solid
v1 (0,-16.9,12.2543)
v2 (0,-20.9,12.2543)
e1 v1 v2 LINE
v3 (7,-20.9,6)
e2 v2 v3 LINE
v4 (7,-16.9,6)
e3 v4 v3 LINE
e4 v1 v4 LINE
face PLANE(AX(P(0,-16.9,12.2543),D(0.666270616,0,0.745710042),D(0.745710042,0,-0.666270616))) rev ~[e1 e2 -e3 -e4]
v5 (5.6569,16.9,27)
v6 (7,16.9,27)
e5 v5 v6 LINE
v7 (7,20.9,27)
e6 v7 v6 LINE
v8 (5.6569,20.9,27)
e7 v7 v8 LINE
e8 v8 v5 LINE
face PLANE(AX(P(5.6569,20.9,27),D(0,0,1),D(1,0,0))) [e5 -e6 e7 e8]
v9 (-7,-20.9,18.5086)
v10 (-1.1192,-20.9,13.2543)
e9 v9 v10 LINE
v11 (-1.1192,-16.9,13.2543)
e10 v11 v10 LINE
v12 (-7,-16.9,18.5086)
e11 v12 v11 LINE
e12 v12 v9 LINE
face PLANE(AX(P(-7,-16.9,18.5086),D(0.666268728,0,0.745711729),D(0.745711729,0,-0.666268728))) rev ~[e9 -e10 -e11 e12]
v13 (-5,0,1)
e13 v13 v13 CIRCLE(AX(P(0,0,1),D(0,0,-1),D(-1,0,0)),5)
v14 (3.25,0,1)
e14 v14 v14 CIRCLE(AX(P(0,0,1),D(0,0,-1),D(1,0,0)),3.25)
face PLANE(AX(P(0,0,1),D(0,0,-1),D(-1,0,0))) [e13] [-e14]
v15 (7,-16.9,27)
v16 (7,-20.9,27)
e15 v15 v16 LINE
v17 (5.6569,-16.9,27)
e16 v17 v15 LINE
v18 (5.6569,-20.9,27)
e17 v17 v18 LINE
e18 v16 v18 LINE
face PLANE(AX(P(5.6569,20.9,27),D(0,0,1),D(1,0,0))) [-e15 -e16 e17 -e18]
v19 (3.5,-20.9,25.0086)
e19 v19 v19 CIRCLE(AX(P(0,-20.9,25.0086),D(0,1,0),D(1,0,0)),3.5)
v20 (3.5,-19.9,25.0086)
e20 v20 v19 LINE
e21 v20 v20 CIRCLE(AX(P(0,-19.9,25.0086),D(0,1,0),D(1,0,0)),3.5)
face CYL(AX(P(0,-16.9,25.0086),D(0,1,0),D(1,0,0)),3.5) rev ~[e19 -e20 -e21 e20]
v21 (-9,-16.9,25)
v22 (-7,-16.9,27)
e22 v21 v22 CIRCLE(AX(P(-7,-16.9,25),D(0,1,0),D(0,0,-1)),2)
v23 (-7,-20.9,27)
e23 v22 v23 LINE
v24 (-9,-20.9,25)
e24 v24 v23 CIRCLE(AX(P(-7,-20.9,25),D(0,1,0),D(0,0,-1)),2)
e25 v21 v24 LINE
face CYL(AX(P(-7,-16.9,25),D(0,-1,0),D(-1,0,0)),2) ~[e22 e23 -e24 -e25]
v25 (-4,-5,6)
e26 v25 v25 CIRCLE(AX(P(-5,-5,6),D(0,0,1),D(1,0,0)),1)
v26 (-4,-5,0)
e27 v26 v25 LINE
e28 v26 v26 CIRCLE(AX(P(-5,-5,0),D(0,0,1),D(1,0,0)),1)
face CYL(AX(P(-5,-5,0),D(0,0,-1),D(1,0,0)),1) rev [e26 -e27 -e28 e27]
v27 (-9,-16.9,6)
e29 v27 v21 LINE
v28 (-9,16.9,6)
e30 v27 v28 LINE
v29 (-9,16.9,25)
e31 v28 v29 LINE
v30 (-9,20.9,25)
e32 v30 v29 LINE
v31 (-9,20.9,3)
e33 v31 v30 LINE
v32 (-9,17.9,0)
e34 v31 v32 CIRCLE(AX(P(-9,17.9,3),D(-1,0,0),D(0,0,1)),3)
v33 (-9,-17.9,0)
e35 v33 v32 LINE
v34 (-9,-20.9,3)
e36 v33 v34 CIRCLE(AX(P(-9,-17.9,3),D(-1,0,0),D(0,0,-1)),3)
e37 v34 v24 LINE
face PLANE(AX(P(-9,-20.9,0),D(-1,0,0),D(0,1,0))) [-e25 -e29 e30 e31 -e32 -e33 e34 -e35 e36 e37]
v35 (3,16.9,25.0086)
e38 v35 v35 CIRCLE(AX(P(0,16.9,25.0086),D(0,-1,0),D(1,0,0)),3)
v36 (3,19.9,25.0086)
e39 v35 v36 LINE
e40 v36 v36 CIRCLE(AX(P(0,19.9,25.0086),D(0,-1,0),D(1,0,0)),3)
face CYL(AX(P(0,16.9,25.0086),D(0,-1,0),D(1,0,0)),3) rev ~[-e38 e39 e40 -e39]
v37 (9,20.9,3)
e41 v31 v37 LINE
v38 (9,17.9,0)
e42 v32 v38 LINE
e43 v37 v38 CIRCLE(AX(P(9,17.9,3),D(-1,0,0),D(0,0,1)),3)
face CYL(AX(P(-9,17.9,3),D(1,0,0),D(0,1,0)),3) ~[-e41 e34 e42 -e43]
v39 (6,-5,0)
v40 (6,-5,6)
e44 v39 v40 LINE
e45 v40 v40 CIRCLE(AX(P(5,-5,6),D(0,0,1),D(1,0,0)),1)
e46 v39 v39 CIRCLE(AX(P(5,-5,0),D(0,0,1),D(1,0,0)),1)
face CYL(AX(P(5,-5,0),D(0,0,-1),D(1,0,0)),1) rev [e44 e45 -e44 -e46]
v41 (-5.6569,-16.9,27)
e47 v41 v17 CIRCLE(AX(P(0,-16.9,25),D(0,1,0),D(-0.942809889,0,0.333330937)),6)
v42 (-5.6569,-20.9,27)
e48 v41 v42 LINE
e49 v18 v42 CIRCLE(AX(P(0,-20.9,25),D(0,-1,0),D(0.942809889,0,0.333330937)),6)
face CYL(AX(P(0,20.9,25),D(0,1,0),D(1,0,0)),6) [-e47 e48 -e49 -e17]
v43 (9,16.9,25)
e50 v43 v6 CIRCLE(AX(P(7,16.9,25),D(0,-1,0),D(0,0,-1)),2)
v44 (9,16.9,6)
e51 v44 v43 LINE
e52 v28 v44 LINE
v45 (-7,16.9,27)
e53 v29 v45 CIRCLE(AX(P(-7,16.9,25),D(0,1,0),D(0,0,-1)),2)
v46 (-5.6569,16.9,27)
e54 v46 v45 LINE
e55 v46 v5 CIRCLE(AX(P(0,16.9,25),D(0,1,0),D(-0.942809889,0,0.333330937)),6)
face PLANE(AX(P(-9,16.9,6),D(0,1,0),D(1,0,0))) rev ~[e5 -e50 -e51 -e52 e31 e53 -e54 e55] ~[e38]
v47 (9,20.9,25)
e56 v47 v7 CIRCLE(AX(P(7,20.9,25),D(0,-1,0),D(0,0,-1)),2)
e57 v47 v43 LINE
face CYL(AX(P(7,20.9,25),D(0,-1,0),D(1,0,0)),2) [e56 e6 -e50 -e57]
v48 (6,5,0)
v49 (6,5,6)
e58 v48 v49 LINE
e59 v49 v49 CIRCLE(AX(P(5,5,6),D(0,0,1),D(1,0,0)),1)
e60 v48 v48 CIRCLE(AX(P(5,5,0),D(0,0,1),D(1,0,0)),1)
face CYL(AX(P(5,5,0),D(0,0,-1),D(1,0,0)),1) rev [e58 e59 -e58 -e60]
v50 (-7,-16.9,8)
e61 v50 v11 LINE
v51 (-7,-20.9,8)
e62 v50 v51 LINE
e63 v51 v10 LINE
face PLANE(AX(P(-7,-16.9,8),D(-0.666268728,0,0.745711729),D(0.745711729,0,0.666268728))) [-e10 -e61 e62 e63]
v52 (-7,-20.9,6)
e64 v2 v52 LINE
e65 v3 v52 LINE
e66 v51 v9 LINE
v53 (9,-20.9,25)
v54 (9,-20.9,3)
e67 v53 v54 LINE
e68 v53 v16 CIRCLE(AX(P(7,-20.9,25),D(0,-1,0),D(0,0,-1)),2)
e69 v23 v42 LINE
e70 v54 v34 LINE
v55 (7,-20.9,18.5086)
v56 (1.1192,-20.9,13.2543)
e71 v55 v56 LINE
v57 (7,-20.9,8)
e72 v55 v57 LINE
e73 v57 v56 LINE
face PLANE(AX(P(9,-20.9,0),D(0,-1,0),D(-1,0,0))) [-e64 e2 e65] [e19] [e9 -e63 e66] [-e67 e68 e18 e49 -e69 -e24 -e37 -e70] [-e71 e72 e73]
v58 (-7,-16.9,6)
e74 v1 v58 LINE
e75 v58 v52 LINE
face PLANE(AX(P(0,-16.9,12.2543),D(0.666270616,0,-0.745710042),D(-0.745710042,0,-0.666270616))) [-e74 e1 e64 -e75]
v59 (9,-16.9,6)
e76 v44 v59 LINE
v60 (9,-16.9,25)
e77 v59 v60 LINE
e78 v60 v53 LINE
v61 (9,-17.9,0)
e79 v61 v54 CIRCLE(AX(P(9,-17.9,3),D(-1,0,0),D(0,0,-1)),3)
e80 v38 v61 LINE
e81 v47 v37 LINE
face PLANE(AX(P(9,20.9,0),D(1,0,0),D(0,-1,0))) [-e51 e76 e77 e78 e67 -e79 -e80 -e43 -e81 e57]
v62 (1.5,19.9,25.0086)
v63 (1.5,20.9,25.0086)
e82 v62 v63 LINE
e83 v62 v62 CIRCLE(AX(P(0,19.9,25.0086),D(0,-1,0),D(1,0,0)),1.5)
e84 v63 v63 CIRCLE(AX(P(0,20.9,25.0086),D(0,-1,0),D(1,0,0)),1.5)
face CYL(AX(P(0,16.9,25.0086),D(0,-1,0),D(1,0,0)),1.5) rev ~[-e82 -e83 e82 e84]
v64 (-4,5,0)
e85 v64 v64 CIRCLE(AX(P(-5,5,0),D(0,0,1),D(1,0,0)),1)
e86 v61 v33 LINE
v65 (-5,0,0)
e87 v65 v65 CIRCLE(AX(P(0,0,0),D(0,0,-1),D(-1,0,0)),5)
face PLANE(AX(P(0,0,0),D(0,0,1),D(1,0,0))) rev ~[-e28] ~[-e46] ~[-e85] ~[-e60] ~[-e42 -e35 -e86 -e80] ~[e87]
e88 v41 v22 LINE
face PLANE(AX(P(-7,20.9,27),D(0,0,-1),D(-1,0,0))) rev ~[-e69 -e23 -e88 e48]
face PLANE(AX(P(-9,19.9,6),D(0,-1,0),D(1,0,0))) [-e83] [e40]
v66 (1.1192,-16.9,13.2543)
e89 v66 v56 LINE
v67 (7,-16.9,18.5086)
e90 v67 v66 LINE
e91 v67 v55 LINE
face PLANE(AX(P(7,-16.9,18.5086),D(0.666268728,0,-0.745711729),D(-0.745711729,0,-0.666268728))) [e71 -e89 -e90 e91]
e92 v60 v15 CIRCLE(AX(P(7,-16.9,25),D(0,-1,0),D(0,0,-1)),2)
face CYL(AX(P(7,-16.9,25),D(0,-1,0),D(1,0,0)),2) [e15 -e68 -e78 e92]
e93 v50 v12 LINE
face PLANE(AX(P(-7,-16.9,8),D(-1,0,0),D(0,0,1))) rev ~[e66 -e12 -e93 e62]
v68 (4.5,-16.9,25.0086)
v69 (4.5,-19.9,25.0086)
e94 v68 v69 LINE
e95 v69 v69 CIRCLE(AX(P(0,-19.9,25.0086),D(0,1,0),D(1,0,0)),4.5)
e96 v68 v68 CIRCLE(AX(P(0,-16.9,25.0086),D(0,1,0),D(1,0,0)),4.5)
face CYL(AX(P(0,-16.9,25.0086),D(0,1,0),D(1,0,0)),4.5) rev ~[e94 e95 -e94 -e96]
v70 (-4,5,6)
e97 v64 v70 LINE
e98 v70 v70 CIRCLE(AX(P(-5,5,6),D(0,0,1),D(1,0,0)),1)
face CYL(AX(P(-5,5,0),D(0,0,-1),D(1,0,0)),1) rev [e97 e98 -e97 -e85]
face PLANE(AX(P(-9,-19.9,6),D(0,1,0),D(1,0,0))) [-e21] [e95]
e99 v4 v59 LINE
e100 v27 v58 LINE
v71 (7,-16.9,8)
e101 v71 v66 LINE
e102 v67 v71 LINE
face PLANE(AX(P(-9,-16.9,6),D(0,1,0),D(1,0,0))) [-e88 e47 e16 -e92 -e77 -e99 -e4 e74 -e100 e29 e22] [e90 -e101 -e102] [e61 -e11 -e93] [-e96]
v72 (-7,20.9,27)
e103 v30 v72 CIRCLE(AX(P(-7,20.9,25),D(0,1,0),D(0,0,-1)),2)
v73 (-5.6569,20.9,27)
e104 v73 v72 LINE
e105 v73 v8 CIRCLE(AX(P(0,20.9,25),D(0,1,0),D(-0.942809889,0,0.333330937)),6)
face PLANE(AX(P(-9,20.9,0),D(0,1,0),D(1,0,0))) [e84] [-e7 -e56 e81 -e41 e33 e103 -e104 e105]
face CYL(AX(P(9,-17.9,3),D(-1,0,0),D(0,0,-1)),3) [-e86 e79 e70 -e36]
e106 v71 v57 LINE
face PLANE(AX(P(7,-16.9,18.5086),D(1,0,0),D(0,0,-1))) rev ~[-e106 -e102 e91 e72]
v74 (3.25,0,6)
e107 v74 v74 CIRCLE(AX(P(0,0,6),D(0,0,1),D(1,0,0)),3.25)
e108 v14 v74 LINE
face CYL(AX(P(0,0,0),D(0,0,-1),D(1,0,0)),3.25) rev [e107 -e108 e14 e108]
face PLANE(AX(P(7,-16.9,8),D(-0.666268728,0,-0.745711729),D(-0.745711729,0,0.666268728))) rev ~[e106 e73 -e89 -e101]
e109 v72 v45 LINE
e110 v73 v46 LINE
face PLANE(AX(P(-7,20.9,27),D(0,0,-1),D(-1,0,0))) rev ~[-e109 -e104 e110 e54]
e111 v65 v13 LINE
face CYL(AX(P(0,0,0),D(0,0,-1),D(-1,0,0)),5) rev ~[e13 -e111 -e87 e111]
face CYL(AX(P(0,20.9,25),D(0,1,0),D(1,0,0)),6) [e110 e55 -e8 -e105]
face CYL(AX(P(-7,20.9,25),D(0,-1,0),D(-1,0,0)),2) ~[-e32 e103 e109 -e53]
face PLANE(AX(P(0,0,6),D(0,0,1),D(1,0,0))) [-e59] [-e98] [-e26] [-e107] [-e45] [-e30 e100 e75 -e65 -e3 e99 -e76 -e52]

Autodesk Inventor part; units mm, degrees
ref_plane "YZ Plane" through (0, 0, 0) normal (1, 0, 0) x (0, 1, 0)
ref_plane "XZ Plane" through (0, 0, 0) normal (0, 1, 0) x (-1, 0, 0)
ref_plane "XY Plane" through (0, 0, 0) normal (0, 0, 1) x (1, 0, 0)
sketch "スケッチ1" plane through (0, 0, 0) normal (0, 0, 1) x (1, 0, 0)
  line L0 (-9, 20.9) -> (9, 20.9)
  line L1 (9, 20.9) -> (9, -20.9)
  line L2 (9, -20.9) -> (-9, -20.9)
  line L3 (-9, -20.9) -> (-9, 20.9)
  line L4 (-9, 20.9) -> (9, -20.9) construction
  line L5 (9, 20.9) -> (-9, -20.9) construction
  circle A0 centre (0, 0) radius 3.25
  line L6 (-5, 5) -> (5, 5) construction
  line L7 (5, 5) -> (5, -5) construction
  line L8 (5, -5) -> (-5, -5) construction
  line L9 (-5, -5) -> (-5, 5) construction
  line L10 (-5, 5) -> (5, -5) construction
  line L11 (5, 5) -> (-5, -5) construction
  circle A1 centre (5, 5) radius 1
  circle A2 centre (-5, 5) radius 1
  circle A3 centre (-5, -5) radius 1
  circle A4 centre (5, -5) radius 1
  dimension "d0" = 18
  dimension "d1" = 41.8
  dimension "d2" = 6.5
  dimension "d3" = 10
  dimension "d4" = 10
  dimension "d5" = 2
  dimension "d6" = 2
  dimension "d7" = 2
  dimension "d8" = 2
extrude "押し出し1" add sketch "スケッチ1" along normal blind 6
sketch "スケッチ2" plane through (0, 0, 6) normal (0, 0, 1) x (1, 0, 0)
  line L0 (-9, 20.9) -> (9, 20.9)
  line L1 (-9, 9) -> (-9, 20.9)
  line L2 (9, 20.9) -> (-9, 20.9)
  line L3 (-9, 20.9) -> (-9, 16.9)
  line L4 (-9, 16.9) -> (9, 16.9)
  line L5 (9, 16.9) -> (9, 20.9)
  line L6 (9, -9) -> (9, -20.9)
  line L7 (-9, -20.9) -> (-9, -9)
  line L8 (9, -20.9) -> (-9, -20.9)
  line L9 (-9, -20.9) -> (-9, -16.9)
  line L10 (-9, -16.9) -> (9, -16.9)
  line L11 (9, -16.9) -> (9, -20.9)
  point P0 (0, 0)
  point P1 (0, 0)
  dimension "d11" = 4
  dimension "d12" = 4
extrude "押し出し2" add sketch "スケッチ2" along normal blind 25
sketch "スケッチ3" plane through (-9, 20.9, 0) normal (0, 1, 0) x (1, 0, 0)
  line L0 (18, -31) -> (18, 0)
  line L1 (0, 0) -> (18, 0)
  line L2 (18, 0) -> (0, 0)
  line L3 (18, -31) -> (18, -25) construction
  line L4 (18, -25) -> (18, -31)
  line L5 (9, -25) -> (15, -25) construction
  line L6 (9, -25) -> (18, -25) construction
  line L7 (16, -27) -> (18, -27)
  line L8 (14.6569, -27) -> (16, -27)
  line L9 (9, -25) -> (9, -31) construction
  line L10 (2, -27) -> (3.3431, -27)
  line L11 (9, -25) -> (0, -25) construction
  line L12 (0, -25) -> (0, -31) construction
  line L13 (0, -25) -> (0, -31)
  circle A0 centre (9, -25) radius 6
  line L14 (18, -6) -> (18, -31)
  line L15 (0, -6) -> (0, -31) construction
  line L16 (18, 0) -> (18, -31) construction
  line L17 (9, 0) -> (9, -25) construction
  line L18 (0, 0) -> (0, -31)
  line L19 (0, -6) -> (0, -31) construction
  line L20 (18, -31) -> (0, -31) construction
  line L21 (0, -31) -> (18, -31) construction
  line L22 (0, -31) -> (18, -31)
  line L23 (18, -31) -> (0, -31) construction
  line L24 (0, -31) -> (18, -31) construction
  line L25 (0, -25) -> (2, -25) construction
  line L26 (2, -25) -> (0, -25) construction
  line L27 (18, -25) -> (16, -25) construction
  line L28 (2, -27) -> (0, -27)
  line L29 (18, -31) -> (18, 0)
  line L30 (0, 0) -> (18, 0)
  line L31 (18, 0) -> (0, 0)
  line L32 (18, -31) -> (18, -25) construction
  line L33 (18, -25) -> (18, -31)
  line L34 (9, -25) -> (15, -25) construction
  line L35 (9, -25) -> (18, -25) construction
  line L36 (16, -27) -> (18, -27)
  line L37 (14.6569, -27) -> (16, -27)
  line L38 (9, -25) -> (9, -31) construction
  line L39 (2, -27) -> (3.3431, -27)
  line L40 (9, -25) -> (0, -25) construction
  line L41 (0, -25) -> (0, -31) construction
  line L42 (0, -25) -> (0, -31)
  circle A1 centre (9, -25) radius 6
  line L43 (18, -6) -> (18, -31)
  line L44 (0, -6) -> (0, -31) construction
  line L45 (18, 0) -> (18, -31) construction
  line L46 (9, 0) -> (9, -25) construction
  line L47 (0, 0) -> (0, -31)
  line L48 (0, -6) -> (0, -31) construction
  line L49 (18, -31) -> (0, -31) construction
  line L50 (0, -31) -> (18, -31) construction
  line L51 (0, -31) -> (18, -31)
  line L52 (18, -31) -> (0, -31) construction
  line L53 (0, -31) -> (18, -31) construction
  line L54 (0, -25) -> (2, -25) construction
  line L55 (2, -25) -> (0, -25) construction
  line L56 (18, -25) -> (16, -25) construction
  line L57 (2, -27) -> (0, -27)
  point P0 (9, -6)
  point P1 (9, -6)
extrude "押し出し3" cut sketch "スケッチ3" against normal blind 42 contours L22 A0 L8 L7 L0 | L22 L13 L28 L10 A0
sketch "スケッチ4" plane through (-9, 16.9, 6) normal (0, -1, 0) x (1, 0, 0)
  line L0 (0, 25.0086) -> (0, 19.0086)
  line L1 (0, 25.0086) -> (0, 19.0086) construction
  line L2 (0, 19.0086) -> (0, 25.0086)
  line L3 (9, 19.0086) -> (3, 19.0086) construction
  line L4 (9, 19.0086) -> (0, 19.0086) construction
  line L5 (2, 21.0086) -> (0, 21.0086)
  line L6 (3.3431, 21.0086) -> (2, 21.0086)
  line L7 (9, 19.0086) -> (9, 25.0086) construction
  line L8 (16, 21.0086) -> (14.6569, 21.0086)
  line L9 (9, 19.0086) -> (18, 19.0086) construction
  line L10 (18, 19.0086) -> (18, 25.0086) construction
  line L11 (18, 19.0086) -> (18, 25.0086)
  circle A0 centre (9, 19.0086) radius 6
  line L12 (0, 19.0086) -> (0, 25.0086)
  line L13 (18, 19.0086) -> (18, 25.0086) construction
  line L14 (0, 19.0086) -> (0, 25.0086) construction
  line L15 (9, 0) -> (9, 25) construction
  line L16 (18, 19.0086) -> (18, 25.0086)
  line L17 (18, 0.0086) -> (18, 25.0086) construction
  line L18 (0, 25.0086) -> (18, 25.0086) construction
  line L19 (18, 25.0086) -> (0, 25.0086) construction
  line L20 (18, 25.0086) -> (0, 25.0086)
  line L21 (0, 25.0086) -> (18, 25.0086) construction
  line L22 (18, 25.0086) -> (0, 25.0086) construction
  line L23 (18, 19.0086) -> (16, 19.0086) construction
  line L24 (16, 19.0086) -> (18, 19.0086) construction
  line L25 (0, 19.0086) -> (2, 19.0086) construction
  line L26 (16, 21.0086) -> (18, 21.0086)
  circle A1 centre (9, 19.0086) radius 1.5
  circle A2 centre (9, 19.0086) radius 3
  point P0 (9, -6)
  point P1 (9, 0.0086)
  dimension "d17" = 3
  dimension "d18" = 6
extrude "押し出し4" cut sketch "スケッチ4" against normal blind 3 contours A2
sketch "スケッチ5" plane through (-9, 16.9, 6) normal (0, -1, 0) x (1, 0, 0)
  line L0 (0, 25.0086) -> (0, 19.0086)
  line L1 (0, 25.0086) -> (0, 19.0086) construction
  line L2 (0, 19.0086) -> (0, 25.0086)
  line L3 (9, 19.0086) -> (3, 19.0086) construction
  line L4 (9, 19.0086) -> (0, 19.0086) construction
  line L5 (2, 21.0086) -> (0, 21.0086)
  line L6 (3.3431, 21.0086) -> (2, 21.0086)
  line L7 (9, 19.0086) -> (9, 25.0086) construction
  line L8 (16, 21.0086) -> (14.6569, 21.0086)
  line L9 (9, 19.0086) -> (18, 19.0086) construction
  line L10 (18, 19.0086) -> (18, 25.0086) construction
  line L11 (18, 19.0086) -> (18, 25.0086)
  circle A0 centre (9, 19.0086) radius 6
  line L12 (0, 19.0086) -> (0, 25.0086)
  line L13 (18, 19.0086) -> (18, 25.0086) construction
  line L14 (0, 19.0086) -> (0, 25.0086) construction
  line L15 (9, 0) -> (9, 25) construction
  line L16 (18, 19.0086) -> (18, 25.0086)
  line L17 (18, 0.0086) -> (18, 25.0086) construction
  line L18 (0, 25.0086) -> (18, 25.0086) construction
  line L19 (18, 25.0086) -> (0, 25.0086) construction
  line L20 (18, 25.0086) -> (0, 25.0086)
  line L21 (0, 25.0086) -> (18, 25.0086) construction
  line L22 (18, 25.0086) -> (0, 25.0086) construction
  line L23 (18, 19.0086) -> (16, 19.0086) construction
  line L24 (16, 19.0086) -> (18, 19.0086) construction
  line L25 (0, 19.0086) -> (2, 19.0086) construction
  line L26 (16, 21.0086) -> (18, 21.0086)
  circle A1 centre (9, 19.0086) radius 1.5
  circle A2 centre (9, 19.0086) radius 3
  point P0 (9, -6)
  point P1 (9, -6)
  point P2 (9, 0.0086)
  dimension "d21" = 3
  dimension "d22" = 6
extrude "押し出し5" cut sketch "スケッチ5" against normal blind 4 contours A1
sketch "スケッチ6" plane through (-9, -16.9, 6) normal (0, 1, 0) x (1, 0, 0)
  line L0 (18, -25.0086) -> (18, -19.0086)
  line L1 (18, -25.0086) -> (18, -19.0086) construction
  line L2 (18, -19.0086) -> (18, -25.0086)
  line L3 (9, -19.0086) -> (15, -19.0086) construction
  line L4 (9, -19.0086) -> (18, -19.0086) construction
  line L5 (16, -21.0086) -> (18, -21.0086)
  line L6 (14.6569, -21.0086) -> (16, -21.0086)
  line L7 (9, -19.0086) -> (9, -25.0086) construction
  line L8 (2, -21.0086) -> (3.3431, -21.0086)
  line L9 (9, -19.0086) -> (0, -19.0086) construction
  line L10 (0, -19.0086) -> (0, -25.0086) construction
  line L11 (0, -19.0086) -> (0, -25.0086)
  circle A0 centre (9, -19.0086) radius 6
  line L12 (18, -19.0086) -> (18, -25.0086)
  line L13 (0, -19.0086) -> (0, -25.0086) construction
  line L14 (18, -19.0086) -> (18, -25.0086) construction
  line L15 (9, 0) -> (9, -25) construction
  line L16 (0, -19.0086) -> (0, -25.0086)
  line L17 (0, -0.0086) -> (0, -25.0086) construction
  line L18 (18, -25.0086) -> (0, -25.0086) construction
  line L19 (0, -25.0086) -> (18, -25.0086) construction
  line L20 (0, -25.0086) -> (18, -25.0086)
  line L21 (18, -25.0086) -> (0, -25.0086) construction
  line L22 (0, -25.0086) -> (18, -25.0086) construction
  line L23 (0, -19.0086) -> (2, -19.0086) construction
  line L24 (2, -19.0086) -> (0, -19.0086) construction
  line L25 (18, -19.0086) -> (16, -19.0086) construction
  line L26 (2, -21.0086) -> (0, -21.0086)
  circle A1 centre (9, -19.0086) radius 3.5
  circle A2 centre (9, -19.0086) radius 4.5
  line L27 (18, -25.0086) -> (18, -19.0086)
  line L28 (18, -25.0086) -> (18, -19.0086) construction
  line L29 (18, -19.0086) -> (18, -25.0086)
  line L30 (9, -19.0086) -> (15, -19.0086) construction
  line L31 (9, -19.0086) -> (18, -19.0086) construction
  line L32 (16, -21.0086) -> (18, -21.0086)
  line L33 (14.6569, -21.0086) -> (16, -21.0086)
  line L34 (9, -19.0086) -> (9, -25.0086) construction
  line L35 (2, -21.0086) -> (3.3431, -21.0086)
  line L36 (9, -19.0086) -> (0, -19.0086) construction
  line L37 (0, -19.0086) -> (0, -25.0086) construction
  line L38 (0, -19.0086) -> (0, -25.0086)
  circle A3 centre (9, -19.0086) radius 6
  line L39 (18, -19.0086) -> (18, -25.0086)
  line L40 (0, -19.0086) -> (0, -25.0086) construction
  line L41 (18, -19.0086) -> (18, -25.0086) construction
  line L42 (9, 0) -> (9, -25) construction
  line L43 (0, -19.0086) -> (0, -25.0086)
  line L44 (0, -0.0086) -> (0, -25.0086) construction
  line L45 (18, -25.0086) -> (0, -25.0086) construction
  line L46 (0, -25.0086) -> (18, -25.0086) construction
  line L47 (0, -25.0086) -> (18, -25.0086)
  line L48 (18, -25.0086) -> (0, -25.0086) construction
  line L49 (0, -25.0086) -> (18, -25.0086) construction
  line L50 (0, -19.0086) -> (2, -19.0086) construction
  line L51 (2, -19.0086) -> (0, -19.0086) construction
  line L52 (18, -19.0086) -> (16, -19.0086) construction
  line L53 (2, -21.0086) -> (0, -21.0086)
  circle A4 centre (9, -19.0086) radius 3.5
  circle A5 centre (9, -19.0086) radius 4.5
  point P0 (9, 6)
  point P1 (9, -0.0086)
  point P2 (9, -0.0086)
  dimension "d25" = 7
  dimension "d26" = 9
  dimension "d27" = 7
  dimension "d28" = 9
extrude "押し出し6" cut sketch "スケッチ6" against normal blind 3 contours A2
sketch "スケッチ7" plane through (-9, -16.9, 6) normal (0, 1, 0) x (1, 0, 0)
  line L0 (18, -25.0086) -> (18, -19.0086)
  line L1 (18, -25.0086) -> (18, -19.0086) construction
  line L2 (18, -19.0086) -> (18, -25.0086)
  line L3 (9, -19.0086) -> (15, -19.0086) construction
  line L4 (9, -19.0086) -> (18, -19.0086) construction
  line L5 (16, -21.0086) -> (18, -21.0086)
  line L6 (14.6569, -21.0086) -> (16, -21.0086)
  line L7 (9, -19.0086) -> (9, -25.0086) construction
  line L8 (2, -21.0086) -> (3.3431, -21.0086)
  line L9 (9, -19.0086) -> (0, -19.0086) construction
  line L10 (0, -19.0086) -> (0, -25.0086) construction
  line L11 (0, -19.0086) -> (0, -25.0086)
  circle A0 centre (9, -19.0086) radius 6
  line L12 (18, -19.0086) -> (18, -25.0086)
  line L13 (0, -19.0086) -> (0, -25.0086) construction
  line L14 (18, -19.0086) -> (18, -25.0086) construction
  line L15 (9, 0) -> (9, -25) construction
  line L16 (0, -19.0086) -> (0, -25.0086)
  line L17 (0, -0.0086) -> (0, -25.0086) construction
  line L18 (18, -25.0086) -> (0, -25.0086) construction
  line L19 (0, -25.0086) -> (18, -25.0086) construction
  line L20 (0, -25.0086) -> (18, -25.0086)
  line L21 (18, -25.0086) -> (0, -25.0086) construction
  line L22 (0, -25.0086) -> (18, -25.0086) construction
  line L23 (0, -19.0086) -> (2, -19.0086) construction
  line L24 (2, -19.0086) -> (0, -19.0086) construction
  line L25 (18, -19.0086) -> (16, -19.0086) construction
  line L26 (2, -21.0086) -> (0, -21.0086)
  circle A1 centre (9, -19.0086) radius 3.5
  circle A2 centre (9, -19.0086) radius 4.5
  line L27 (18, -25.0086) -> (18, -19.0086)
  line L28 (18, -25.0086) -> (18, -19.0086) construction
  line L29 (18, -19.0086) -> (18, -25.0086)
  line L30 (9, -19.0086) -> (15, -19.0086) construction
  line L31 (9, -19.0086) -> (18, -19.0086) construction
  line L32 (16, -21.0086) -> (18, -21.0086)
  line L33 (14.6569, -21.0086) -> (16, -21.0086)
  line L34 (9, -19.0086) -> (9, -25.0086) construction
  line L35 (2, -21.0086) -> (3.3431, -21.0086)
  line L36 (9, -19.0086) -> (0, -19.0086) construction
  line L37 (0, -19.0086) -> (0, -25.0086) construction
  line L38 (0, -19.0086) -> (0, -25.0086)
  circle A3 centre (9, -19.0086) radius 6
  line L39 (18, -19.0086) -> (18, -25.0086)
  line L40 (0, -19.0086) -> (0, -25.0086) construction
  line L41 (18, -19.0086) -> (18, -25.0086) construction
  line L42 (9, 0) -> (9, -25) construction
  line L43 (0, -19.0086) -> (0, -25.0086)
  line L44 (0, -0.0086) -> (0, -25.0086) construction
  line L45 (18, -25.0086) -> (0, -25.0086) construction
  line L46 (0, -25.0086) -> (18, -25.0086) construction
  line L47 (0, -25.0086) -> (18, -25.0086)
  line L48 (18, -25.0086) -> (0, -25.0086) construction
  line L49 (0, -25.0086) -> (18, -25.0086) construction
  line L50 (0, -19.0086) -> (2, -19.0086) construction
  line L51 (2, -19.0086) -> (0, -19.0086) construction
  line L52 (18, -19.0086) -> (16, -19.0086) construction
  line L53 (2, -21.0086) -> (0, -21.0086)
  circle A4 centre (9, -19.0086) radius 3.5
  circle A5 centre (9, -19.0086) radius 4.5
  point P0 (9, 6)
  point P1 (9, 6)
  point P2 (9, -0.0086)
  point P3 (9, -0.0086)
  dimension "d31" = 7
  dimension "d32" = 9
  dimension "d33" = 7
  dimension "d34" = 9
extrude "押し出し7" cut sketch "スケッチ7" against normal blind 4 contours A1
sketch "スケッチ8" plane through (-9, -16.9, 6) normal (0, 1, 0) x (1, 0, 0)
  line L0 (18, -25.0086) -> (18, -19.0086)
  line L1 (18, -25.0086) -> (18, -19.0086) construction
  line L2 (18, -19.0086) -> (18, -25.0086)
  line L3 (9, -19.0086) -> (15, -19.0086) construction
  line L4 (9, -19.0086) -> (18, -19.0086) construction
  line L5 (16, -21.0086) -> (18, -21.0086)
  line L6 (14.6569, -21.0086) -> (16, -21.0086)
  line L7 (9, -19.0086) -> (9, -25.0086) construction
  line L8 (2, -21.0086) -> (3.3431, -21.0086)
  line L9 (9, -19.0086) -> (0, -19.0086) construction
  line L10 (0, -19.0086) -> (0, -25.0086) construction
  line L11 (0, -19.0086) -> (0, -25.0086)
  circle A0 centre (9, -19.0086) radius 6
  line L12 (18, -19.0086) -> (18, -25.0086)
  line L13 (0, -19.0086) -> (0, -25.0086) construction
  line L14 (18, -19.0086) -> (18, -25.0086) construction
  line L15 (9, 0) -> (9, -25) construction
  line L16 (0, -19.0086) -> (0, -25.0086)
  line L17 (0, -0.0086) -> (0, -25.0086) construction
  line L18 (18, -25.0086) -> (0, -25.0086) construction
  line L19 (0, -25.0086) -> (18, -25.0086) construction
  line L20 (0, -25.0086) -> (18, -25.0086)
  line L21 (18, -25.0086) -> (0, -25.0086) construction
  line L22 (0, -25.0086) -> (18, -25.0086) construction
  line L23 (0, -19.0086) -> (2, -19.0086) construction
  line L24 (2, -19.0086) -> (0, -19.0086) construction
  line L25 (18, -19.0086) -> (16, -19.0086) construction
  line L26 (2, -21.0086) -> (0, -21.0086)
  circle A1 centre (9, -19.0086) radius 3.5
  circle A2 centre (9, -19.0086) radius 4.5
  line L27 (18, -19.0086) -> (16, -19.0086) construction
  line L28 (0, 0) -> (18, 0) construction
  line L29 (18, 0) -> (18, -21) construction
  line L30 (0, 0) -> (18, 0) construction
  line L31 (18, 0) -> (18, -14.5086) construction
  line L32 (0, -14.5086) -> (0, 0) construction
  line L33 (18, 0) -> (16, 0) construction
  line L34 (0, 0) -> (2, 0) construction
  line L35 (16, 0) -> (2, 0)
  line L36 (2, -2) -> (2, -12.5086)
  line L37 (16, -12.5086) -> (16, -2)
  line L38 (16, -12.5086) -> (10.1192, -7.2543)
  line L39 (9, -6.2543) -> (2, 0)
  line L40 (16, -2) -> (10.1192, -7.2543)
  line L41 (9, -8.2543) -> (2, -14.5086)
  line L42 (2, -12.5086) -> (7.8808, -7.2543)
  line L43 (9, -6.2543) -> (16, 0)
  line L44 (2, -2) -> (7.8808, -7.2543)
  line L45 (9, -8.2543) -> (16, -14.5086)
  line L46 (2, -14.5086) -> (9, -14.5086)
  line L47 (12.9686, -14.5086) -> (16, -14.5086)
  line L48 (18, -14.5086) -> (9, -14.5086) construction
  line L49 (5.0314, -14.5086) -> (0, -14.5086) construction
  point P0 (9, 6)
  point P1 (9, -0.0086)
  dimension "d38" = 9
  dimension "d37" = 7
  dimension "d39" = 2
  dimension "d40" = 2
extrude "押し出し8" cut sketch "スケッチ8" against normal blind 4 contours L43 L39 L35 | L44 L42 L36 | L38 L40 L37
fillet "フィレット1" radius 2 4 edges at (-9, 18.9, 27) (-9, -18.9, 27) (9, -18.9, 27) (9, 18.9, 27)
fillet "フィレット2" radius 3 2 edges at (0, -20.9, 0) (0, 20.9, 0)
sketch "スケッチ9" plane through (0, 0, 0) normal (0, 0, -1) x (-1, 0, 0)
  circle A0 centre (0, 0) radius 5
  dimension "d45" = 10
extrude "押し出し9" cut sketch "スケッチ9" against normal blind 1
properties part number "ServoArm"
